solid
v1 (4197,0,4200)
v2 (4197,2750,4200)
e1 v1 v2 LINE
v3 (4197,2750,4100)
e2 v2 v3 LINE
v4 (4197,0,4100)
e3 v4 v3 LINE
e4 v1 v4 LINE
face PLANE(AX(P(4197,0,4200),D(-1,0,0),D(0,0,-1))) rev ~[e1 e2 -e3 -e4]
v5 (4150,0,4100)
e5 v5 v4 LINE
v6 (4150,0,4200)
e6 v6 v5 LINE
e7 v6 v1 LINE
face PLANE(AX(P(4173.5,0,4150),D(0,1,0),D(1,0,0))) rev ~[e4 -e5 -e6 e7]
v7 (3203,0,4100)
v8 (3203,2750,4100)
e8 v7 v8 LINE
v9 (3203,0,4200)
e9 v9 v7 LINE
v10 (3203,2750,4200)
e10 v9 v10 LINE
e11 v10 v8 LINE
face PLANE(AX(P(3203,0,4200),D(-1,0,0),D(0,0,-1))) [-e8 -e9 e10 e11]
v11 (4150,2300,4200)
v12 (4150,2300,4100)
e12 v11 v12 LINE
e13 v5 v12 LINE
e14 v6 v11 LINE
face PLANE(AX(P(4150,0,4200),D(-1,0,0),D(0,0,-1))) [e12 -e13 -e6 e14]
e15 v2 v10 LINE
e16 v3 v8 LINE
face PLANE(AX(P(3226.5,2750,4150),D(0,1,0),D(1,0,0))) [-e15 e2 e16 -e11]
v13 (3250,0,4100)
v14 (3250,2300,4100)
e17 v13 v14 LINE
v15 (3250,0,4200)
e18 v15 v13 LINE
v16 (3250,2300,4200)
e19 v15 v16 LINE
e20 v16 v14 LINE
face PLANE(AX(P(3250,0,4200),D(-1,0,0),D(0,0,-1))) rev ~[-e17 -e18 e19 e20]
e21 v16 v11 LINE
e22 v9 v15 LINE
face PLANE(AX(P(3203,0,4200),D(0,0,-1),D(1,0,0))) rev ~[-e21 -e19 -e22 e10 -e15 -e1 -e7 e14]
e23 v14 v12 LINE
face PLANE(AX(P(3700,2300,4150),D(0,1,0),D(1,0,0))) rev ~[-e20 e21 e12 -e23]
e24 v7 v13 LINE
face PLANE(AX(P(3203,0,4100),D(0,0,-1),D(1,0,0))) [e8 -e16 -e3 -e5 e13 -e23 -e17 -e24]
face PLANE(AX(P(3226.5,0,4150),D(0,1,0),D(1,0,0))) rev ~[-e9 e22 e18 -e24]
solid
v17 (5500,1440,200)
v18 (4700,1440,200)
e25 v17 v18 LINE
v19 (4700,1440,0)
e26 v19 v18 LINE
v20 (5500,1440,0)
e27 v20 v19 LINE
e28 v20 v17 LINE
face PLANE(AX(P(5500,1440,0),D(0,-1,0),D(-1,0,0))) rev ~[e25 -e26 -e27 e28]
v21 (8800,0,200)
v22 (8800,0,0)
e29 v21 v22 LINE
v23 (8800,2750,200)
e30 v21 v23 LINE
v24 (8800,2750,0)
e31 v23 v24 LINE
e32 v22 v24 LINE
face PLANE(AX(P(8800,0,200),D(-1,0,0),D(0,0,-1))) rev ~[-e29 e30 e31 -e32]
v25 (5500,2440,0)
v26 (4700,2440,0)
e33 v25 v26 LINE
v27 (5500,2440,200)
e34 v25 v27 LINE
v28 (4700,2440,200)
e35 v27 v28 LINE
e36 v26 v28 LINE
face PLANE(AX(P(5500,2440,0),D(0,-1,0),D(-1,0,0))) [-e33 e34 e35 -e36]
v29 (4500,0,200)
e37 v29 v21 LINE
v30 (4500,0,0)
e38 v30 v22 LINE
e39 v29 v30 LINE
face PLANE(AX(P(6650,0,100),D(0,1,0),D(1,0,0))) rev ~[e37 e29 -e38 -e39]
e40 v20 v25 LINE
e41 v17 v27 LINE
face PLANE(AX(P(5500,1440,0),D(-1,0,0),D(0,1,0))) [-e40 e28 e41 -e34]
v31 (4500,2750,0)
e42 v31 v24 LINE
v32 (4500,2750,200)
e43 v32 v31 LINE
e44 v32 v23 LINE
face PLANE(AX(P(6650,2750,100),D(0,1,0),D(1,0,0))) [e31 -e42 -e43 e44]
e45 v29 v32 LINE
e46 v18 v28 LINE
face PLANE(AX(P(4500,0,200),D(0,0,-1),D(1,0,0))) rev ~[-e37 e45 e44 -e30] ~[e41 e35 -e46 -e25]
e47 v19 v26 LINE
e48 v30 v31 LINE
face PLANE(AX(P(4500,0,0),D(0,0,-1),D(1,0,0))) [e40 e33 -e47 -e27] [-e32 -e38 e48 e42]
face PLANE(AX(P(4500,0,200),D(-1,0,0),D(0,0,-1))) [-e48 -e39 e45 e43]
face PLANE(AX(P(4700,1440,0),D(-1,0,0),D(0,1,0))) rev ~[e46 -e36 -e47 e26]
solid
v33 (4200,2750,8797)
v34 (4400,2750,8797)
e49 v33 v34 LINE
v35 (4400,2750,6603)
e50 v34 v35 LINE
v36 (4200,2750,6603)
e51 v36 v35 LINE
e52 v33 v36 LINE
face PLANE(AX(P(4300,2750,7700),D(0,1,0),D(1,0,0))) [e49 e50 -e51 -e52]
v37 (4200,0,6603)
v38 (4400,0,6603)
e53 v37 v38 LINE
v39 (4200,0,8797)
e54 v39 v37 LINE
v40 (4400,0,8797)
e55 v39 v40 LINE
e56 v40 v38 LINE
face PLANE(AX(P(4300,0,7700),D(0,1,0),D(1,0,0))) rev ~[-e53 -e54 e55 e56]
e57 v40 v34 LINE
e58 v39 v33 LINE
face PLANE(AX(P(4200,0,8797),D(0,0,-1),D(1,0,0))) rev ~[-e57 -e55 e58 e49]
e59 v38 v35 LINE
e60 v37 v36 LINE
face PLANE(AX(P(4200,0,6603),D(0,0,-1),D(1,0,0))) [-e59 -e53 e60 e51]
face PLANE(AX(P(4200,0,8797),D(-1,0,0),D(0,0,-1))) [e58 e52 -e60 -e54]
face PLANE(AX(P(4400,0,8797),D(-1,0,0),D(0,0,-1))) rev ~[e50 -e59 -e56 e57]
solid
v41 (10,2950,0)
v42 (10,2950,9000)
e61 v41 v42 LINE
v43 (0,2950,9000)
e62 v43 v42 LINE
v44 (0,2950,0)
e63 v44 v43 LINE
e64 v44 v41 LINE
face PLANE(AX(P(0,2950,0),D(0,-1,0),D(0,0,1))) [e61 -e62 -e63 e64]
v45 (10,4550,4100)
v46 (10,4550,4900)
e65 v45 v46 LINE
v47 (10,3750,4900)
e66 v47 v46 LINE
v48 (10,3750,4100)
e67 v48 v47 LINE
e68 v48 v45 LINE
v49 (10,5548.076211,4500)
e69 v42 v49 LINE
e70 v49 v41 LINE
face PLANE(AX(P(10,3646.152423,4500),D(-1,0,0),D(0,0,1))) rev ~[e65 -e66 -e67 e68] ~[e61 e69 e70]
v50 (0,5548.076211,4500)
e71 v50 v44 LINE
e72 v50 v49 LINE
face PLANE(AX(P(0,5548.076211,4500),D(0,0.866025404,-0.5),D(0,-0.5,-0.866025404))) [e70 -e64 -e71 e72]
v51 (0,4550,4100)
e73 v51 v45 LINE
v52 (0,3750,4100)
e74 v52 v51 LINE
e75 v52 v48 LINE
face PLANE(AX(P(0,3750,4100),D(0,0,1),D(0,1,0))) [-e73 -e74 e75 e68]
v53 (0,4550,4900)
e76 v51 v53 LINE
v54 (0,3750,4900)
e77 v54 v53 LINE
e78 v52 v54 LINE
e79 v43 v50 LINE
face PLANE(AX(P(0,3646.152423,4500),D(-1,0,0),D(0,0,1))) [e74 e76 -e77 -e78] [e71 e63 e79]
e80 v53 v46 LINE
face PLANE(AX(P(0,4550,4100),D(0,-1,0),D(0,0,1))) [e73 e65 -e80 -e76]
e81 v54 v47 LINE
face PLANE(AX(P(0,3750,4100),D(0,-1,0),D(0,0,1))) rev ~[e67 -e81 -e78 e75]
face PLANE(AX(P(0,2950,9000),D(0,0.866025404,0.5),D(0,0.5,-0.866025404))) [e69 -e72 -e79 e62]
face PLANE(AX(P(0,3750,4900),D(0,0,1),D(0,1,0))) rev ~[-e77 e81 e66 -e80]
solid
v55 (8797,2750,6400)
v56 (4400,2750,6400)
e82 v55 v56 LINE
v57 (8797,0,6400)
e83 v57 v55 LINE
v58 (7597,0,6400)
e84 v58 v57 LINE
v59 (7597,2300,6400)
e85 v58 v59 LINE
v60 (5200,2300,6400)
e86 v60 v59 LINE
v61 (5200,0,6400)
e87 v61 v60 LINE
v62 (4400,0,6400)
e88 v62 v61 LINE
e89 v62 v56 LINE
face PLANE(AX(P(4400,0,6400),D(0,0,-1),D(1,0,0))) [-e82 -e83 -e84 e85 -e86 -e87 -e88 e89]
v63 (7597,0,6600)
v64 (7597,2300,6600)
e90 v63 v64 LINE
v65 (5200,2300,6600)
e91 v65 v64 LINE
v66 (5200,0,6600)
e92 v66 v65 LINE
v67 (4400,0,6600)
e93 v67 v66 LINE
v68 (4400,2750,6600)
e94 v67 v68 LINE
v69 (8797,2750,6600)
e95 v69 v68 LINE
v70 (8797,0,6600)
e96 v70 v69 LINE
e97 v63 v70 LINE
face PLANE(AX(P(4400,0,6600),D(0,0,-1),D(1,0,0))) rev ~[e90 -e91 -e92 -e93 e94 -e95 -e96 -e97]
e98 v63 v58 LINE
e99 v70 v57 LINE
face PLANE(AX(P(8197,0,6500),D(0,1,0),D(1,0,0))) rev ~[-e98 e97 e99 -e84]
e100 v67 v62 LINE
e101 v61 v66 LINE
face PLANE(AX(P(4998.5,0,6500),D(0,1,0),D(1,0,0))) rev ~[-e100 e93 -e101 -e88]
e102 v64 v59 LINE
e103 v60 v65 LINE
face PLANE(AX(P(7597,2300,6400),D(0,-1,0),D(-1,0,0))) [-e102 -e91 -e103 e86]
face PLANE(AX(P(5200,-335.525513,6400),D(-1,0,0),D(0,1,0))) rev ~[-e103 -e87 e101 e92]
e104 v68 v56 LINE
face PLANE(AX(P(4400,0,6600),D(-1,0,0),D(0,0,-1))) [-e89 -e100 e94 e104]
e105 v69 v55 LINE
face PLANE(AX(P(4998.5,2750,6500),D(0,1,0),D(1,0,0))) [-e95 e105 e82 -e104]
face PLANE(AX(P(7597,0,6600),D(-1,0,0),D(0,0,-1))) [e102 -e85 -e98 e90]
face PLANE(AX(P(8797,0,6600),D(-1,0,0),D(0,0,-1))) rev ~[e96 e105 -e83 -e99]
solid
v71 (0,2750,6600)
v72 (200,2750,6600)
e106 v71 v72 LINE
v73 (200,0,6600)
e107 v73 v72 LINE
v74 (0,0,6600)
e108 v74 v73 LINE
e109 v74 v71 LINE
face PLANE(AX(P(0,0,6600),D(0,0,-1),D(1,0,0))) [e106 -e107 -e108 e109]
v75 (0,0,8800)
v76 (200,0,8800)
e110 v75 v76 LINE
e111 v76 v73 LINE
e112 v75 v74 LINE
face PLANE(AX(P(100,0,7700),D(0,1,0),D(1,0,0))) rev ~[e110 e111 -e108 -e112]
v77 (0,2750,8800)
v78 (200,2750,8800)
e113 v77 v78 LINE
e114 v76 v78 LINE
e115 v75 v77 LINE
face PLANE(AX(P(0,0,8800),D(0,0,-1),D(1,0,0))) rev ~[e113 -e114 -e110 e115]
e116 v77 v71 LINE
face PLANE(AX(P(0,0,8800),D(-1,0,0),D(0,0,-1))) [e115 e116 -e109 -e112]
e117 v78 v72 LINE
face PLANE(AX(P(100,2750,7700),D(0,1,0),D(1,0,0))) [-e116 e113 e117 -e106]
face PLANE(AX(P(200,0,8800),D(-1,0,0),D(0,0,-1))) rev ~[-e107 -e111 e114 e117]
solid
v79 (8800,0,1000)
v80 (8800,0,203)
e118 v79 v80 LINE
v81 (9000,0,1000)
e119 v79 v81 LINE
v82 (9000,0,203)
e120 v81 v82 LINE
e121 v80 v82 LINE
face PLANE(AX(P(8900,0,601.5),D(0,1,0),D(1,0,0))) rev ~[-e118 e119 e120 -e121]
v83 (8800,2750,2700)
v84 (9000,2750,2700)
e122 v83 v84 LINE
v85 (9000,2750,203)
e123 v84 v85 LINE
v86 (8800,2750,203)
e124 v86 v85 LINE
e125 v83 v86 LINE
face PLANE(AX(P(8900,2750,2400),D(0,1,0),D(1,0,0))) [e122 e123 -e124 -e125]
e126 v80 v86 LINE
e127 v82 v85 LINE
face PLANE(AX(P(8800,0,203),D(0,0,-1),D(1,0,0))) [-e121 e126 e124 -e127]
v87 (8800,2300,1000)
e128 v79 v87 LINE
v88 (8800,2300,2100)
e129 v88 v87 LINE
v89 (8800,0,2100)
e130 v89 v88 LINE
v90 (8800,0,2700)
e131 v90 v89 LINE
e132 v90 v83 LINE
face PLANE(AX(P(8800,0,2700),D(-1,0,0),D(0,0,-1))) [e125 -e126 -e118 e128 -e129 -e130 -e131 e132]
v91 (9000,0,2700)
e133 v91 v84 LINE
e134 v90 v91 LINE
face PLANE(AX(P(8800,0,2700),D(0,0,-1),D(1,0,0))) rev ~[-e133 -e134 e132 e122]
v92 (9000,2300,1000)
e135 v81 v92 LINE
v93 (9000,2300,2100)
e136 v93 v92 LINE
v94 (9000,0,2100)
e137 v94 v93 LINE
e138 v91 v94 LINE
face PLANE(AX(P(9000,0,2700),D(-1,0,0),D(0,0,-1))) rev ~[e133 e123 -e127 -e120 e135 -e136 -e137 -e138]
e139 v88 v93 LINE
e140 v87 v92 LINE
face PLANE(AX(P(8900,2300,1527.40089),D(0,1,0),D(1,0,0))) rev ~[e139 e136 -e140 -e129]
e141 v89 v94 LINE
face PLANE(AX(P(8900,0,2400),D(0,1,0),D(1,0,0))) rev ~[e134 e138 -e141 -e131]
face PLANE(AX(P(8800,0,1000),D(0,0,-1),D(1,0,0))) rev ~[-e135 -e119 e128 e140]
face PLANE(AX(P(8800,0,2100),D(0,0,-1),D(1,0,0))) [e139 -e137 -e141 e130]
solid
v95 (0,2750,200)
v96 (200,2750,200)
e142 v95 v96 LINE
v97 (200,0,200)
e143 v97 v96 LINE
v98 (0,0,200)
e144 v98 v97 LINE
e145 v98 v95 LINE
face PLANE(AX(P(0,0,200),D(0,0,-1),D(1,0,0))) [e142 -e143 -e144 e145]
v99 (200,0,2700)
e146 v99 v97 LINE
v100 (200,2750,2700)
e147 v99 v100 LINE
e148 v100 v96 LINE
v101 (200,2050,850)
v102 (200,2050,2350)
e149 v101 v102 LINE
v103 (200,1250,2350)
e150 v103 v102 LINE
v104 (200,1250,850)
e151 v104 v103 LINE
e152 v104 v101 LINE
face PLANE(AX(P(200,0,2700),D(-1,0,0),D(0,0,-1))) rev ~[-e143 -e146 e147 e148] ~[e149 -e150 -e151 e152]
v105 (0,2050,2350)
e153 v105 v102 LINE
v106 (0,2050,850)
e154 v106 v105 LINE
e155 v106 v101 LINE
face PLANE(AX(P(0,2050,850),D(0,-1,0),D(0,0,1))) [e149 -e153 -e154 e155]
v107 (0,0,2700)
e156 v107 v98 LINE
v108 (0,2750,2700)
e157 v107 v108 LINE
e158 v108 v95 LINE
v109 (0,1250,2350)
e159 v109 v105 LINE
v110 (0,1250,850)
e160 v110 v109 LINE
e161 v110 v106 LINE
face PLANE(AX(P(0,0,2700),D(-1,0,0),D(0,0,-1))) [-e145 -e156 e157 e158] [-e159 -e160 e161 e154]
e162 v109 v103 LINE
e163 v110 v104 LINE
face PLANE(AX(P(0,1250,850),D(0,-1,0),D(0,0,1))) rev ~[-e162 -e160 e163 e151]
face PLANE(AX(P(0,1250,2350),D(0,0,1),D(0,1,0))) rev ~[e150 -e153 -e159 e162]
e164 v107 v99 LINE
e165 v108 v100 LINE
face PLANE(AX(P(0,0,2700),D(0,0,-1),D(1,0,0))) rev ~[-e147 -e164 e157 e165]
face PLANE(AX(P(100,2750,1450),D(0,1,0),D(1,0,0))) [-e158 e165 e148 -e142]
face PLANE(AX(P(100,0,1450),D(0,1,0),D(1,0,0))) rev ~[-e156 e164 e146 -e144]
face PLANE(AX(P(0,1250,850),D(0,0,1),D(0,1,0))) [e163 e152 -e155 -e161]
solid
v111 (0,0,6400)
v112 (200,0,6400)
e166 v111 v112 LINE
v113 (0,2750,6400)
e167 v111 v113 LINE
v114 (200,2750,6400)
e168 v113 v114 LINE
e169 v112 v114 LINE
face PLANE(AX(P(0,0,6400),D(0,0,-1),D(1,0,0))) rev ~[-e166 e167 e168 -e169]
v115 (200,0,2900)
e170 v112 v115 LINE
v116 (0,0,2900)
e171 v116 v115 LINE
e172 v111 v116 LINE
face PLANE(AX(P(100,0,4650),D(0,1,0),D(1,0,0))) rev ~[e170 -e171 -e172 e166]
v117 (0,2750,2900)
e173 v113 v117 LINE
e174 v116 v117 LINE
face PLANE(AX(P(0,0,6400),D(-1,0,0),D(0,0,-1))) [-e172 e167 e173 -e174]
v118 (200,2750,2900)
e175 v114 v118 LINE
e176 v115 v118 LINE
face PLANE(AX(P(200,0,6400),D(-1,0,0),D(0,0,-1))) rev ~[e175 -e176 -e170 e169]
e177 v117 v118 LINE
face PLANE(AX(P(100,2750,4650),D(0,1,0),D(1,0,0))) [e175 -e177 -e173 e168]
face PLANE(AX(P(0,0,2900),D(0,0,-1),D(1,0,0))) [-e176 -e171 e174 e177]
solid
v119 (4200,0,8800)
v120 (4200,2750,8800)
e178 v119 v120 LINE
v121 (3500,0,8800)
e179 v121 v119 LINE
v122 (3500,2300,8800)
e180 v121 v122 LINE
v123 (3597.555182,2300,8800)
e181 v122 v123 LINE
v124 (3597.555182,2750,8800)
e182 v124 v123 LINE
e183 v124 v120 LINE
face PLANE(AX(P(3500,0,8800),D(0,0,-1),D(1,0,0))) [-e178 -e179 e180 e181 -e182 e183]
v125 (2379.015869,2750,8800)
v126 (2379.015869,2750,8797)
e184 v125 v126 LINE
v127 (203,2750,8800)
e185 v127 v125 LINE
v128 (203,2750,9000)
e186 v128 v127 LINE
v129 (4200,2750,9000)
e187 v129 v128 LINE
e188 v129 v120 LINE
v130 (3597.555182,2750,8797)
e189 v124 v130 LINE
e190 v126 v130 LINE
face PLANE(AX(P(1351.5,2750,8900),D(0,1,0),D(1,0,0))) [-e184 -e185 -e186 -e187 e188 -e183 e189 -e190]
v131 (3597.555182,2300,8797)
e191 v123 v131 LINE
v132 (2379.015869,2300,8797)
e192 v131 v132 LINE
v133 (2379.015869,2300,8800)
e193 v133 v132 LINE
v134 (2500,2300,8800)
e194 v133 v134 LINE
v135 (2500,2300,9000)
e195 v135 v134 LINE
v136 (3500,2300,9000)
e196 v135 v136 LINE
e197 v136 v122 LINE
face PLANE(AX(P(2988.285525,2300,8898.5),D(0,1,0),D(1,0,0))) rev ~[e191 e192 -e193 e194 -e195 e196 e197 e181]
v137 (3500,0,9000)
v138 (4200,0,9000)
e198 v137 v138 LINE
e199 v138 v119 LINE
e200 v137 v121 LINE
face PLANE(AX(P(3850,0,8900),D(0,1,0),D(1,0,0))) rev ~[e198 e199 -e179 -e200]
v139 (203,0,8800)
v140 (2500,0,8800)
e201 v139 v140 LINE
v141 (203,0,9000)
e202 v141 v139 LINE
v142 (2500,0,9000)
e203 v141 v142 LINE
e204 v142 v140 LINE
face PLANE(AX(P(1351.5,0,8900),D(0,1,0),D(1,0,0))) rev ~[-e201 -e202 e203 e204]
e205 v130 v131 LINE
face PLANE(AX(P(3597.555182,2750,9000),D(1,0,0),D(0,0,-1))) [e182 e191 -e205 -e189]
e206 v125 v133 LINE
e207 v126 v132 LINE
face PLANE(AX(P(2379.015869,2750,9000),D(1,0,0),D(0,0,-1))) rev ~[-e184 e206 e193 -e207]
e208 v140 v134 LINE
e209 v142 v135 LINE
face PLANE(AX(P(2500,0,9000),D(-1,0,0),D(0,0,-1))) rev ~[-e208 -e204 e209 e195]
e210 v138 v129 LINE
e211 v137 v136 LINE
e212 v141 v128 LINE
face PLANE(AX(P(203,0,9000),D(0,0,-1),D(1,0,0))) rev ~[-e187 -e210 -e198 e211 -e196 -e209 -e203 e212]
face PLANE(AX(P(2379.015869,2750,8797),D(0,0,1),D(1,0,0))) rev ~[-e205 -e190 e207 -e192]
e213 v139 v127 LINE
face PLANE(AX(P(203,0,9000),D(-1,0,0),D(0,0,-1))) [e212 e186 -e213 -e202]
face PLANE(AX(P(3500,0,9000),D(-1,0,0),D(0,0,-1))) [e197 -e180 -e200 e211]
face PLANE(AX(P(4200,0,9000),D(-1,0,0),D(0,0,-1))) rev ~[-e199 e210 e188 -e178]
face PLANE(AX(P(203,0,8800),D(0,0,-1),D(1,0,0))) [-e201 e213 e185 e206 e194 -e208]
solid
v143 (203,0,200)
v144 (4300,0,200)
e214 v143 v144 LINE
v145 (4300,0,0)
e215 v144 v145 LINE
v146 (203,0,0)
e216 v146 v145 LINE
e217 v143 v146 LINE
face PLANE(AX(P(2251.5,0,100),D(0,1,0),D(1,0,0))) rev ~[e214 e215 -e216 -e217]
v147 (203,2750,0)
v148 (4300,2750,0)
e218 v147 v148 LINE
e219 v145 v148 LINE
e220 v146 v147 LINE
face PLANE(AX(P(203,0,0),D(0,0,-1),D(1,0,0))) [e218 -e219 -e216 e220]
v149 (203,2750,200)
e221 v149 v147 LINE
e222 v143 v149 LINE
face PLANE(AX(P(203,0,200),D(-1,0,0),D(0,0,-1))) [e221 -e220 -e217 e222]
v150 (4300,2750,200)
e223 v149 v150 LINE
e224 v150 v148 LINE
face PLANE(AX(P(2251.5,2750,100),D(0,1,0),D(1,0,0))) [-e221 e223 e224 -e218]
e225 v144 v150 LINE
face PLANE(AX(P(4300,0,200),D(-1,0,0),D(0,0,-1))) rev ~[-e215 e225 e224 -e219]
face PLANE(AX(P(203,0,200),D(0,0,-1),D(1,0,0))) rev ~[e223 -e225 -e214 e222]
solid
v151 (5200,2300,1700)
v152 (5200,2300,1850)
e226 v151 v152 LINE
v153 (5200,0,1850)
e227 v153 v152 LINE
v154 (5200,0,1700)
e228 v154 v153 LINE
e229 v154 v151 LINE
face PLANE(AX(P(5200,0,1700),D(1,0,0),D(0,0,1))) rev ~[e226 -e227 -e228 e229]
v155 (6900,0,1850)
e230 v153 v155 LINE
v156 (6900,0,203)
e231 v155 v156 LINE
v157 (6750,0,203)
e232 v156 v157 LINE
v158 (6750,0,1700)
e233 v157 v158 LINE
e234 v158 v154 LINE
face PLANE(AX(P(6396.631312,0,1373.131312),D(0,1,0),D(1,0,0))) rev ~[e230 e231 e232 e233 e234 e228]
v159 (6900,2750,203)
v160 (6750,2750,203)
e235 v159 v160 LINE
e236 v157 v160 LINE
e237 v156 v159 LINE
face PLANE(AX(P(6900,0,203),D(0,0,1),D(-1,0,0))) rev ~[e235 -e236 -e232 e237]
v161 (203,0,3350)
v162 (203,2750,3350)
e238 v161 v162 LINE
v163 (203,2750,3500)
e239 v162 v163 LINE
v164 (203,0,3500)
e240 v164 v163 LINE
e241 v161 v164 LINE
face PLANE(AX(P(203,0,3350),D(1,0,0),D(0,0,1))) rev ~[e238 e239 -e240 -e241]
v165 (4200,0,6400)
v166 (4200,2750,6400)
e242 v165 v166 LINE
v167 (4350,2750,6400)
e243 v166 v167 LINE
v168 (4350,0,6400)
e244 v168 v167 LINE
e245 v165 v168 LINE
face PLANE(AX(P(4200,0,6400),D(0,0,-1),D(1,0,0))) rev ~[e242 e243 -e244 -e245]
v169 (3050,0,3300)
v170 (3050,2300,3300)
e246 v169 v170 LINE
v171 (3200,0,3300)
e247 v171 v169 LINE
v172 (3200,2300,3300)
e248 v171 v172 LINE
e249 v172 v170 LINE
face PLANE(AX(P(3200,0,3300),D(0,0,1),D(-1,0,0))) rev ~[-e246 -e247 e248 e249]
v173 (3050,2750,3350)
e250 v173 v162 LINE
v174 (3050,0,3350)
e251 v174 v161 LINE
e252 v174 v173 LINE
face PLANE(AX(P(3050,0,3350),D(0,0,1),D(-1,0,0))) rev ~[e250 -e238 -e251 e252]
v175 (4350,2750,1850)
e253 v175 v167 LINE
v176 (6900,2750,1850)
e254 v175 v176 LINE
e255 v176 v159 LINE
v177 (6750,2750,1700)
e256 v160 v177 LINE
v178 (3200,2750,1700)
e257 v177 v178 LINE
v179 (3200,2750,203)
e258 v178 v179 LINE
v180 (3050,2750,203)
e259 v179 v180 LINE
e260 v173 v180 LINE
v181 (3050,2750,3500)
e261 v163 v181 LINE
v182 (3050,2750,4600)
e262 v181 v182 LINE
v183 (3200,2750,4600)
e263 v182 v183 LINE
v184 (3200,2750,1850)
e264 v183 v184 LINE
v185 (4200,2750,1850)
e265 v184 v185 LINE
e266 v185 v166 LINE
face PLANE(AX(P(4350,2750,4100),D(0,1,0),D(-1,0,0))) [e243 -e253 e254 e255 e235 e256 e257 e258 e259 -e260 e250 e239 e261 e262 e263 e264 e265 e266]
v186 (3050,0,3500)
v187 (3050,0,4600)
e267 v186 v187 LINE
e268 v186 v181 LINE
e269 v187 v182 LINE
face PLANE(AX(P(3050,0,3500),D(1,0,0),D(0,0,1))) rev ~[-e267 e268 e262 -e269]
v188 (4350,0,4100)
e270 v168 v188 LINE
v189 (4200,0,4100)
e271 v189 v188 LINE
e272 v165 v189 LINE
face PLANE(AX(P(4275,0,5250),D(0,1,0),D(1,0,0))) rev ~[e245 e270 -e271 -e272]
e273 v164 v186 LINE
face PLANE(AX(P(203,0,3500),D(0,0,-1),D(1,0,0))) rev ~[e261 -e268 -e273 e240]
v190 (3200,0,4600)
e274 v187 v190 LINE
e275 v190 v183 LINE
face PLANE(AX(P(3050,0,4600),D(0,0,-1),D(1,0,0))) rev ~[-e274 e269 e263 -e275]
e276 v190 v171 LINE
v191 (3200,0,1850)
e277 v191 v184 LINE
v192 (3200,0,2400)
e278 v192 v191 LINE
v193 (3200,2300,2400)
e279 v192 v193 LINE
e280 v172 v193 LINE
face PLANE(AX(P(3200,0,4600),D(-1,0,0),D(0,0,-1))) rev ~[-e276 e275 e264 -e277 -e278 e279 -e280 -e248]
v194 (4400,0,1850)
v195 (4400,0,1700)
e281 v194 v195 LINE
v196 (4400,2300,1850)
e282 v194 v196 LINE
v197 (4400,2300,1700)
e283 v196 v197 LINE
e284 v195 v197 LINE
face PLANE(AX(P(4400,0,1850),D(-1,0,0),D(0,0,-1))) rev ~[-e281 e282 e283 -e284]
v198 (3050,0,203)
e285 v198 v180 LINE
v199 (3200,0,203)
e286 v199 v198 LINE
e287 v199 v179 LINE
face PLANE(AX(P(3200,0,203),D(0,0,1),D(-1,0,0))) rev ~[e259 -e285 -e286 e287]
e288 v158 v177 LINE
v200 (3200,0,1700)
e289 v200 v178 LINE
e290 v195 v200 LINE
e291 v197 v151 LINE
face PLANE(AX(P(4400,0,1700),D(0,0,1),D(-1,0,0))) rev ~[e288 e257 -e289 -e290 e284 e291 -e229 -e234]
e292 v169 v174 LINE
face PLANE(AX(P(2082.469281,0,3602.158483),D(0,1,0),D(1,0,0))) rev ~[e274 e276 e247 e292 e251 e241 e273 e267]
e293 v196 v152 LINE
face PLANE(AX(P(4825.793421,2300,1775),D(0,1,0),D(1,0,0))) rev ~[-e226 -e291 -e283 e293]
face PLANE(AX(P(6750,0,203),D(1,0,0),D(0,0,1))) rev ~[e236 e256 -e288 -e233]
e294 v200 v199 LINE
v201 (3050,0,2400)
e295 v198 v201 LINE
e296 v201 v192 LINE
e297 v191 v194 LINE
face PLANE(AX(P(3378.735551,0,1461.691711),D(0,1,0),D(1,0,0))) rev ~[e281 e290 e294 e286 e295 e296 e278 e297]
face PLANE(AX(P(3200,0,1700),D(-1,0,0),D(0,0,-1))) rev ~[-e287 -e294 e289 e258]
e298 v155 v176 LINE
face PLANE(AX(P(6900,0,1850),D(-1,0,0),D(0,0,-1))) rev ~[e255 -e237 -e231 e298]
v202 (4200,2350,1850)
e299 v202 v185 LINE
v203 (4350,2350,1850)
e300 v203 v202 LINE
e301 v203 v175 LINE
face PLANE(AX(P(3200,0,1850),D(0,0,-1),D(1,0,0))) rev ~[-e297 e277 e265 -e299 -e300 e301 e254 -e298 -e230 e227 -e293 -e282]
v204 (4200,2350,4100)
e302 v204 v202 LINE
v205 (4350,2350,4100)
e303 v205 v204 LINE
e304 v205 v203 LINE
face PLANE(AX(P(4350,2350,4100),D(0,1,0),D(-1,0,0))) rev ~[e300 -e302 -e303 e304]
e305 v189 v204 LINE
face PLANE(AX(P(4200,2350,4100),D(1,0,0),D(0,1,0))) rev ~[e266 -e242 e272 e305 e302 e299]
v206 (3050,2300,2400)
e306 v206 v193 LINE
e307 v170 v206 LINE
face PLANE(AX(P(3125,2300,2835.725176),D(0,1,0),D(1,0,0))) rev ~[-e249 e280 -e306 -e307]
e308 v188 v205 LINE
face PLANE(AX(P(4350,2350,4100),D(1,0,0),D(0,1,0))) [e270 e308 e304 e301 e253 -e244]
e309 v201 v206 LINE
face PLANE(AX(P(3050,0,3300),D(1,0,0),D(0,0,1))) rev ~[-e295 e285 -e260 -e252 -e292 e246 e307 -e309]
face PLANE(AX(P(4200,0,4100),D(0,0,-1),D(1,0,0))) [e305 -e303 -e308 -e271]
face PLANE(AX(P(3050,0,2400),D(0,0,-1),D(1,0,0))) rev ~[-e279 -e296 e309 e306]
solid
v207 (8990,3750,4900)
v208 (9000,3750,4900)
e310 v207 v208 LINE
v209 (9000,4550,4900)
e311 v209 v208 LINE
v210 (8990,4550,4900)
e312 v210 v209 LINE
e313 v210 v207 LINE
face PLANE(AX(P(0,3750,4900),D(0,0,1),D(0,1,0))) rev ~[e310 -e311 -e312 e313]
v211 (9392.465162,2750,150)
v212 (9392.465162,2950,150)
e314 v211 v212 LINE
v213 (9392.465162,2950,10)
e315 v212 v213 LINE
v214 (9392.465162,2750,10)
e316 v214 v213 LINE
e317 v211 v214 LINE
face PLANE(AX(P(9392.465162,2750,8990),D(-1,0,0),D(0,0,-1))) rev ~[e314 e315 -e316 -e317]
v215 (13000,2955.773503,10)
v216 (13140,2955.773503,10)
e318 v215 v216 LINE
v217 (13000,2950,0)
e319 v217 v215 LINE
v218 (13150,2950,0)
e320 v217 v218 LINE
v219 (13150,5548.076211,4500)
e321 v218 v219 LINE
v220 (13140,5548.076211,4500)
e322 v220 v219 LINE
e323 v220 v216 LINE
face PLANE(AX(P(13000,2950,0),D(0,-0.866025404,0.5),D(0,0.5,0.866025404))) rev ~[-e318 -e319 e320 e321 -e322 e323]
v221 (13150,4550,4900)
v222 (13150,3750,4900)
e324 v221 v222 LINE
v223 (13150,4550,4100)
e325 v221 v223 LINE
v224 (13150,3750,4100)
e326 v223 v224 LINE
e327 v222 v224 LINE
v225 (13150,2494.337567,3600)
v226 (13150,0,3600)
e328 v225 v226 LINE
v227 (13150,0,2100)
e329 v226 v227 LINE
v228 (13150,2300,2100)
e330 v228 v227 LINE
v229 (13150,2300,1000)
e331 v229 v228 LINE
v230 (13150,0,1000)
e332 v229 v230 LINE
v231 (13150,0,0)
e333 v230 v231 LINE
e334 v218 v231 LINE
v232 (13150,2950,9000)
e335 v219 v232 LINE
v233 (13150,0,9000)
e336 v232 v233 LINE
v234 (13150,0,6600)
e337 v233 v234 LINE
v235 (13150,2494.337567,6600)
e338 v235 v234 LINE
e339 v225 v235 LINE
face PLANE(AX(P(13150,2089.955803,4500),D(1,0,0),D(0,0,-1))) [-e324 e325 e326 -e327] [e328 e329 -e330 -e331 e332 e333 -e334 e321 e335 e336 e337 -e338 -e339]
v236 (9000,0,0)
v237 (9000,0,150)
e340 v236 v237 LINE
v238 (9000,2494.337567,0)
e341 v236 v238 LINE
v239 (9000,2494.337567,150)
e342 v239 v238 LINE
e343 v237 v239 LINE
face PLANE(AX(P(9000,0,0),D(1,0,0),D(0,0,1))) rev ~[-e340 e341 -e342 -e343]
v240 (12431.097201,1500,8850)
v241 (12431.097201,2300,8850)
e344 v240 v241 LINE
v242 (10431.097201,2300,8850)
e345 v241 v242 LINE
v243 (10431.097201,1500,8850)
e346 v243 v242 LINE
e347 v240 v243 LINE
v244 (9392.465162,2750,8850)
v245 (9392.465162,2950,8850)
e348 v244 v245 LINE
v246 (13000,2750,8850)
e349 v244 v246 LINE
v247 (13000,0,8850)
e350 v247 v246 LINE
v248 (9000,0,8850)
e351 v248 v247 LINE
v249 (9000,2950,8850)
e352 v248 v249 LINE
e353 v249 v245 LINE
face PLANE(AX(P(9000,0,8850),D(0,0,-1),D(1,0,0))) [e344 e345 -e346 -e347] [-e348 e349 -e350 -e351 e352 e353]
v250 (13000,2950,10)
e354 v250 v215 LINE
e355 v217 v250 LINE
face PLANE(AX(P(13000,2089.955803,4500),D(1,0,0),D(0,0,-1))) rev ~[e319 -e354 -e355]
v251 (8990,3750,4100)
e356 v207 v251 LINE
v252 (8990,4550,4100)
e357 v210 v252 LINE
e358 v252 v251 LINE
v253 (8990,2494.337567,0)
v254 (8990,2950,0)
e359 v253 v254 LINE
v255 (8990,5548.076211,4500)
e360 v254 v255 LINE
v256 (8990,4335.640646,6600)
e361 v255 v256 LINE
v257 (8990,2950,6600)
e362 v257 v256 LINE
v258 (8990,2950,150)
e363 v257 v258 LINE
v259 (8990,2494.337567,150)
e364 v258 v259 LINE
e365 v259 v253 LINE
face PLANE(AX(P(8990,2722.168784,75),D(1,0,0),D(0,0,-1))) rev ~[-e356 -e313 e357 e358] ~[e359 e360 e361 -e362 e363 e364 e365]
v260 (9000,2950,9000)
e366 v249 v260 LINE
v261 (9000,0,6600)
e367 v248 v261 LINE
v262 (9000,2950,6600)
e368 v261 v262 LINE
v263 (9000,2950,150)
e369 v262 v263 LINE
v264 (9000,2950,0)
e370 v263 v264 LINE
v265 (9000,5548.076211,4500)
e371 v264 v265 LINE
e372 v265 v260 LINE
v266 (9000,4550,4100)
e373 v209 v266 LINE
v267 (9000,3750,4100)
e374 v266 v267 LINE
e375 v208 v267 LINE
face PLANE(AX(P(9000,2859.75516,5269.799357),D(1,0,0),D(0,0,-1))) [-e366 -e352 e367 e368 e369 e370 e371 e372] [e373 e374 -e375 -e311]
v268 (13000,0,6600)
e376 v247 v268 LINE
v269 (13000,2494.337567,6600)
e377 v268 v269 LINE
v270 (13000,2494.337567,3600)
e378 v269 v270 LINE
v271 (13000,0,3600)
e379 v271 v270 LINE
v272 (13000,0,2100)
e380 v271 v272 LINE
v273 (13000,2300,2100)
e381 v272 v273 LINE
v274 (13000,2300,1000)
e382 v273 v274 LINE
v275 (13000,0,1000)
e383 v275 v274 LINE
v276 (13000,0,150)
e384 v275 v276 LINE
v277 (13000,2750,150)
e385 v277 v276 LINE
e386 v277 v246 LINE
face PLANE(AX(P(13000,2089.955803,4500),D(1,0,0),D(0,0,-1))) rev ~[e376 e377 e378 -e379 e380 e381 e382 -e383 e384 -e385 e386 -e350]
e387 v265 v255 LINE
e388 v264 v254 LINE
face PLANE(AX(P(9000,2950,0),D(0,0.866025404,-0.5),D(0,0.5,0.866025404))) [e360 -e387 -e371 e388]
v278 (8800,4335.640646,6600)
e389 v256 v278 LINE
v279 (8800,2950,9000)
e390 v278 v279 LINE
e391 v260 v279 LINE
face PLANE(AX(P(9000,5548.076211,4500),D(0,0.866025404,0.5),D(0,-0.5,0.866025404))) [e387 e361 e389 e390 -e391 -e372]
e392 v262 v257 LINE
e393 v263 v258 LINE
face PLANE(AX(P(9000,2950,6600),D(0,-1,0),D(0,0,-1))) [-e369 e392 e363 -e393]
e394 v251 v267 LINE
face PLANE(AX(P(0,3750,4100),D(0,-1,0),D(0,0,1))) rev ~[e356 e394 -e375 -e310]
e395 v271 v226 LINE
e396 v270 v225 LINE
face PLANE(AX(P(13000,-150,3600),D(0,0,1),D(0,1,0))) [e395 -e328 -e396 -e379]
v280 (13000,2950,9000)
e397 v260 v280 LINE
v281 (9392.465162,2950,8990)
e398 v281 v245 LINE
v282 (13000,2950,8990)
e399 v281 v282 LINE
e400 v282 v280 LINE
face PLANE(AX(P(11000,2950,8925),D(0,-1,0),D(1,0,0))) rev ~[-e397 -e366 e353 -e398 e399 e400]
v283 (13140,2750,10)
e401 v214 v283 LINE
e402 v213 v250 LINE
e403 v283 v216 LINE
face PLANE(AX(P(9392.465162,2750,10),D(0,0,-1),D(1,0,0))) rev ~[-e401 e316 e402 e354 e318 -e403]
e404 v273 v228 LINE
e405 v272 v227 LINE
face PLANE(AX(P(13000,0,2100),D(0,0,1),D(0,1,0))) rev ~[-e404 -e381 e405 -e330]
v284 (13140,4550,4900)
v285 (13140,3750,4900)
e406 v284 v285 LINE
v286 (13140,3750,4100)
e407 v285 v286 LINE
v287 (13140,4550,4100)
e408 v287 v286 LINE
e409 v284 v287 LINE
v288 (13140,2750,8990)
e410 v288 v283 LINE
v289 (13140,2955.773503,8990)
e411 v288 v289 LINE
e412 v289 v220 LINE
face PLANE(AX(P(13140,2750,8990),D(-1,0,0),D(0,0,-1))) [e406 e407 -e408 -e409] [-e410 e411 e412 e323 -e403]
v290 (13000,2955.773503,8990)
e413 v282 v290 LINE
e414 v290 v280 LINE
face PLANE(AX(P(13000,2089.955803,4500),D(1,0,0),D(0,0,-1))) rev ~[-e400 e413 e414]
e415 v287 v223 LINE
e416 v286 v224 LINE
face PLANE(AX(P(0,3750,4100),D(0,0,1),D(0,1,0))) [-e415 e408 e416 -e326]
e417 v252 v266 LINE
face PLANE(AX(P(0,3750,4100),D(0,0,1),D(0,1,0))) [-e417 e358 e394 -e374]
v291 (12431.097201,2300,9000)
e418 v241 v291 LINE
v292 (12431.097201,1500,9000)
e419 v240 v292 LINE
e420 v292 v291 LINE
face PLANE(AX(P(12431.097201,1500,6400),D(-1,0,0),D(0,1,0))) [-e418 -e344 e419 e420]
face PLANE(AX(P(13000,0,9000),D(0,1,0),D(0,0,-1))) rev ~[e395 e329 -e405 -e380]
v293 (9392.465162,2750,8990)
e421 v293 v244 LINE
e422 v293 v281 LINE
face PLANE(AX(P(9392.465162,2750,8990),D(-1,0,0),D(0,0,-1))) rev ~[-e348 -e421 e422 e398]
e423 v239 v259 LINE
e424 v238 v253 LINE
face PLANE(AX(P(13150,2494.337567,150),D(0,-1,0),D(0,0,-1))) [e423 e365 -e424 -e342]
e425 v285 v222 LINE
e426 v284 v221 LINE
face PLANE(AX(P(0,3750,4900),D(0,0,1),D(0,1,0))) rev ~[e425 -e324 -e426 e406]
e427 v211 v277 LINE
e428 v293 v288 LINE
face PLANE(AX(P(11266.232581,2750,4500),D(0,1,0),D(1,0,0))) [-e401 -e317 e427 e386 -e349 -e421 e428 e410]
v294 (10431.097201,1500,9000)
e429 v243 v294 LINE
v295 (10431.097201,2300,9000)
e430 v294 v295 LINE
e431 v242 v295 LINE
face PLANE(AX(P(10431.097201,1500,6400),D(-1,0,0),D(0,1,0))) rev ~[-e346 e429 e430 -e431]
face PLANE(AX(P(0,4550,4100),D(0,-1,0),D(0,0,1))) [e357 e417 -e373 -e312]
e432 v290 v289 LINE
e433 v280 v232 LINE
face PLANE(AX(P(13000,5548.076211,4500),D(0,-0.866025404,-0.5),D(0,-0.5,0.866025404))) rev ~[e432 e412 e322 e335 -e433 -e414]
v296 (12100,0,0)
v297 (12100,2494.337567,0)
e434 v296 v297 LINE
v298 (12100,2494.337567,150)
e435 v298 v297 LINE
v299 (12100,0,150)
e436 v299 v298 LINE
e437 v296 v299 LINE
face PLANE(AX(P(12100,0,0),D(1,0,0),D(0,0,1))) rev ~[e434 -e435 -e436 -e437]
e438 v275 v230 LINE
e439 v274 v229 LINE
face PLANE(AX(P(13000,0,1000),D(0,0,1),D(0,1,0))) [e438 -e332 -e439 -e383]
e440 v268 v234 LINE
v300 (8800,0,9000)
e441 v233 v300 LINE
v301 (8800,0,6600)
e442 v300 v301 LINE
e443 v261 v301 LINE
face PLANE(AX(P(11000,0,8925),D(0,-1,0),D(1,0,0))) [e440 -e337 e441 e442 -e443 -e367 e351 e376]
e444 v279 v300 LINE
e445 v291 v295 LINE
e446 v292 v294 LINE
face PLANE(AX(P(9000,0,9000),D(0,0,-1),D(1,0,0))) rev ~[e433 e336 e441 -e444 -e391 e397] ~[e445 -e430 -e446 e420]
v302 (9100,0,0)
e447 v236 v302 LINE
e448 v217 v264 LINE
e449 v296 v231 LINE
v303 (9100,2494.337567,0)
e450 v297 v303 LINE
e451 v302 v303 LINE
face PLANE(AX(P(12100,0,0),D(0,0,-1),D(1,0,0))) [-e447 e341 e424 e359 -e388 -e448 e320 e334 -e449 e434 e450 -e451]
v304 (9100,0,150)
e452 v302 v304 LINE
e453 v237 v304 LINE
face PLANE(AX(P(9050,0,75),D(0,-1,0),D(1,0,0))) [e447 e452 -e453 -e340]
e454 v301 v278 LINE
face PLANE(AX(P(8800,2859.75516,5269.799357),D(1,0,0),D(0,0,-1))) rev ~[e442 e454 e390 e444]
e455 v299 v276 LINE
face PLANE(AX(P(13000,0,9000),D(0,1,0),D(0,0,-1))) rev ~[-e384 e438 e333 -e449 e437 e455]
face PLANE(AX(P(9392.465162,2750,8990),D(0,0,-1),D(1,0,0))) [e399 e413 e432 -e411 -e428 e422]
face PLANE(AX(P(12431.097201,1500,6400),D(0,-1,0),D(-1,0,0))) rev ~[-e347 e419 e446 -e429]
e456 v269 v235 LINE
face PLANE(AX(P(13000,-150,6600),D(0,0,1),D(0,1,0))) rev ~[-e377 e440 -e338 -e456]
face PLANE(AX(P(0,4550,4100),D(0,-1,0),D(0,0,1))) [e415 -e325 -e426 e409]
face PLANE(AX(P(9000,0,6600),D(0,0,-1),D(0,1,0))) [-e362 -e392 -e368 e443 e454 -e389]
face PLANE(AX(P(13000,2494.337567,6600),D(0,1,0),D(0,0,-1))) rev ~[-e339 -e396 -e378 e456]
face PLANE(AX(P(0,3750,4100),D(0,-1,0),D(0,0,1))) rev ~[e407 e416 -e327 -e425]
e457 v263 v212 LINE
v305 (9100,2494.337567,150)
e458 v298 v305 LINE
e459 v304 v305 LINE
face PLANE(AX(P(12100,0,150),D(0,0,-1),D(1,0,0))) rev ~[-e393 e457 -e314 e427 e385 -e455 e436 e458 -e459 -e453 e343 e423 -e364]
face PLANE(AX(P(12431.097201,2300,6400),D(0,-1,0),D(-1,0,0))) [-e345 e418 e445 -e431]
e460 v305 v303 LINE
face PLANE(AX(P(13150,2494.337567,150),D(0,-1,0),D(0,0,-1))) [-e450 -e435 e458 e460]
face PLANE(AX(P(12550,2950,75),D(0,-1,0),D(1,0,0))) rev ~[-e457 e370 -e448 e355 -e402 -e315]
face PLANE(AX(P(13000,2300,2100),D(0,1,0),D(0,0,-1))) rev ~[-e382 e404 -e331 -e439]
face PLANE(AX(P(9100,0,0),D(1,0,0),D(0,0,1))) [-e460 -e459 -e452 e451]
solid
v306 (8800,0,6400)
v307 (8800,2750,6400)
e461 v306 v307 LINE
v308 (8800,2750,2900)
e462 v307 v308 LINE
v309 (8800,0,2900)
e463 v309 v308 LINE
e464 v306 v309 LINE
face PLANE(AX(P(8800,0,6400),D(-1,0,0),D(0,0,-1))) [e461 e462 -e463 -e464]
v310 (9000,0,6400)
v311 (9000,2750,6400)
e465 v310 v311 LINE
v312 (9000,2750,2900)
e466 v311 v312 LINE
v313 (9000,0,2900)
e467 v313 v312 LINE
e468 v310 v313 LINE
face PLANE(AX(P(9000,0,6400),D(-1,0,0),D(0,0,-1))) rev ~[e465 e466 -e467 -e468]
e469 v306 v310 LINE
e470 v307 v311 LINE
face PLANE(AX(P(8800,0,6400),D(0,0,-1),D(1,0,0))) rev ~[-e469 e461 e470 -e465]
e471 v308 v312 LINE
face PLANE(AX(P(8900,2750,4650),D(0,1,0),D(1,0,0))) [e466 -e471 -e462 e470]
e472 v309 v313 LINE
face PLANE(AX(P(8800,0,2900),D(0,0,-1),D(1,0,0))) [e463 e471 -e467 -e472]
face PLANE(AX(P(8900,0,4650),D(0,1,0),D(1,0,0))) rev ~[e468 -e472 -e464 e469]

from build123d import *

# Parameters (mm, degrees)
SKETCH_1_W          = 200
SKETCH_1_H          = 797
EXTRUDE_3_DEPTH     = 2750
SKETCH_1_W_2        = 4097
SKETCH_1_H_2        = 200
EXTRUDE_3_2_DEPTH   = 2750
SKETCH_1_H_3        = 2500
EXTRUDE_3_3_DEPTH   = 2750
SKETCH_1_W_3        = 2297
EXTRUDE_3_4_DEPTH   = 2750
SKETCH_1_H_4        = 2194
EXTRUDE_3_5_DEPTH   = 2750
SKETCH_1_W_4        = 1200
EXTRUDE_3_6_DEPTH   = 2750
SKETCH_1_W_5        = 700
EXTRUDE_3_7_DEPTH   = 2750
SKETCH_1_W_6        = 1197
EXTRUDE_3_8_DEPTH   = 2750
SKETCH_1_H_5        = 600
EXTRUDE_3_9_DEPTH   = 2750
SKETCH_1_W_7        = 150
SKETCH_1_H_6        = 2300
EXTRUDE_3_10_DEPTH  = 2750
SKETCH_1_H_7        = 2200
EXTRUDE_3_11_DEPTH  = 2750
SKETCH_1_H_8        = 3500
EXTRUDE_3_12_DEPTH  = 2750
EXTRUDE_3_13_DEPTH  = 2750
SKETCH_1_W_8        = 4300
EXTRUDE_3_14_DEPTH  = 2750
EXTRUDE_3_15_DEPTH  = 2750
EXTRUDE_3_16_DEPTH  = 2750
SKETCH_1_W_9        = 47
SKETCH_1_H_9        = 100
EXTRUDE_3_17_DEPTH  = 2750
EXTRUDE_3_18_DEPTH  = 2750
EXTRUDE_3_19_DEPTH  = 2750
SKETCH_2_W          = 1500
SKETCH_2_H          = 800
CUT_EXTRUDE_2_DEPTH = 250
SKETCH_3_W          = 800
SKETCH_3_H          = 1000
CUT_EXTRUDE_3_DEPTH = 593
SKETCH_4_W          = 947
SKETCH_4_H          = 100
SKETCH_4_W_2        = 150
SKETCH_4_H_2        = 978.549648511
SKETCH_4_W_3        = 1152.585456484
SKETCH_4_H_3        = 150
SKETCH_4_W_4        = 2267.433140047
SKETCH_4_H_4        = 200
SKETCH_4_W_5        = 200
SKETCH_4_H_5        = 1253.150135291
SKETCH_4_W_6        = 1218.539312582
SKETCH_4_H_6        = 203
EXTRUDE_4_DEPTH     = 450
EXTRUDE_5_DEPTH     = 150
SKETCH_6_W          = 1100
SKETCH_6_H          = 2300
SKETCH_6_W_2        = 3000
SKETCH_6_H_2        = 2644.337567297
CUT_EXTRUDE_5_DEPTH = 670
SKETCH_8_W          = 800
SKETCH_8_H          = 800
EXTRUDE_8_DEPTH     = 10
EXTRUDE_9_DEPTH     = 200
SKETCH_10_W         = 4000
SKETCH_10_H         = 150
SKETCH_10_W_2       = 900
SKETCH_10_W_3       = 100
EXTRUDE_10_DEPTH    = 2950
SKETCH_11_W         = 2397
SKETCH_11_H         = 2635.525513421
SKETCH_11_W_2       = 1000
SKETCH_11_H_2       = 2423.148146905
SKETCH_11_W_3       = 2000
SKETCH_11_H_3       = 800
CUT_EXTRUDE_6_DEPTH = 5123
SKETCH_8_2_W        = 800
SKETCH_8_2_H        = 800
CUT_EXTRUDE_7_DEPTH = 16606
SKETCH_16_W         = 150
SKETCH_16_H         = 455.662432703
EXTRUDE_16_DEPTH    = 4160
SKETCH_17_W         = 150
SKETCH_17_H         = 400
EXTRUDE_17_DEPTH    = 2250
SKETCH_18_W         = 345.470179312
SKETCH_18_H         = 6646.060485842
SKETCH_18_W_2       = 3747.534838004
SKETCH_18_H_2       = 8980
CUT_EXTRUDE_8_DEPTH = 5414


with BuildPart() as part:
    # Эскиз1 → Бобышка-Вытянуть3 (new body)
    with BuildSketch(Plane(origin=(0, 0, 0), x_dir=(1, 0, 0), z_dir=(0, 1, 0))):
        with Locations((8900, -601.5)):
            Rectangle(SKETCH_1_W, SKETCH_1_H)
    extrude(amount=EXTRUDE_3_DEPTH)



with BuildPart() as body_2:
    # Эскиз1 → Extrude 3 2 (new body)
    with BuildSketch(Plane(origin=(0, 0, 0), x_dir=(1, 0, 0), z_dir=(0, 1, 0))):
        with Locations((2251.5, -100)):
            Rectangle(SKETCH_1_W_2, SKETCH_1_H_2)
    extrude(amount=EXTRUDE_3_2_DEPTH)


with BuildPart() as body_3:
    # Эскиз1 → Extrude 3 3 (new body)
    with BuildSketch(Plane(origin=(0, 0, 0), x_dir=(1, 0, 0), z_dir=(0, 1, 0))):
        with Locations((100, -1450)):
            Rectangle(SKETCH_1_W, SKETCH_1_H_3)
    extrude(amount=EXTRUDE_3_3_DEPTH)

    # Эскиз2 → Вырез-Вытянуть2 (cut)
    with BuildSketch(Plane.ZY):
        with Locations((1600, 1650)):
            Rectangle(SKETCH_2_W, SKETCH_2_H)
    extrude(amount=-CUT_EXTRUDE_2_DEPTH, mode=Mode.SUBTRACT)


with BuildPart() as body_4:
    # Эскиз1 → Extrude 3 4 (new body)
    with BuildSketch(Plane(origin=(0, 0, 0), x_dir=(1, 0, 0), z_dir=(0, 1, 0))):
        with Locations((1351.5, -8900)):
            Rectangle(SKETCH_1_W_3, SKETCH_1_H_2)
    extrude(amount=EXTRUDE_3_4_DEPTH)


with BuildPart() as body_5:
    # Эскиз1 → Extrude 3 5 (new body)
    with BuildSketch(Plane(origin=(0, 0, 0), x_dir=(1, 0, 0), z_dir=(0, 1, 0))):
        with Locations((4300, -7700)):
            Rectangle(SKETCH_1_W, SKETCH_1_H_4)
    extrude(amount=EXTRUDE_3_5_DEPTH)


with BuildPart() as body_6:
    # Эскиз1 → Extrude 3 6 (new body)
    with BuildSketch(Plane(origin=(0, 0, 0), x_dir=(1, 0, 0), z_dir=(0, 1, 0))):
        with Locations((8197, -6500)):
            Rectangle(SKETCH_1_W_4, SKETCH_1_H_2)
    extrude(amount=EXTRUDE_3_6_DEPTH)


with BuildPart() as body_7:
    # Эскиз1 → Extrude 3 7 (new body)
    with BuildSketch(Plane(origin=(0, 0, 0), x_dir=(1, 0, 0), z_dir=(0, 1, 0))):
        with Locations((3850, -8900)):
            Rectangle(SKETCH_1_W_5, SKETCH_1_H_2)
    extrude(amount=EXTRUDE_3_7_DEPTH)


with BuildPart() as body_8:
    # Эскиз1 → Extrude 3 8 (new body)
    with BuildSketch(Plane(origin=(0, 0, 0), x_dir=(1, 0, 0), z_dir=(0, 1, 0))):
        with Locations((4998.5, -6500)):
            Rectangle(SKETCH_1_W_6, SKETCH_1_H_2)
    extrude(amount=EXTRUDE_3_8_DEPTH)


with BuildPart() as body_9:
    # Эскиз1 → Extrude 3 9 (new body)
    with BuildSketch(Plane(origin=(0, 0, 0), x_dir=(1, 0, 0), z_dir=(0, 1, 0))):
        with Locations((8900, -2400)):
            Rectangle(SKETCH_1_W, SKETCH_1_H_5)
    extrude(amount=EXTRUDE_3_9_DEPTH)


with BuildPart() as body_10:
    # Эскиз1 → Extrude 3 10 (new body)
    with BuildSketch(Plane(origin=(0, 0, 0), x_dir=(1, 0, 0), z_dir=(0, 1, 0))):
        with Locations((4275, -5250)):
            Rectangle(SKETCH_1_W_7, SKETCH_1_H_6)
    extrude(amount=EXTRUDE_3_10_DEPTH)


with BuildPart() as body_11:
    # Эскиз1 → Extrude 3 11 (new body)
    with BuildSketch(Plane(origin=(0, 0, 0), x_dir=(1, 0, 0), z_dir=(0, 1, 0))):
        with Locations((100, -7700)):
            Rectangle(SKETCH_1_W, SKETCH_1_H_7)
    extrude(amount=EXTRUDE_3_11_DEPTH)


with BuildPart() as body_12:
    # Эскиз1 → Extrude 3 12 (new body)
    with BuildSketch(Plane(origin=(0, 0, 0), x_dir=(1, 0, 0), z_dir=(0, 1, 0))):
        with Locations((8900, -4650)):
            Rectangle(SKETCH_1_W, SKETCH_1_H_8)
    extrude(amount=EXTRUDE_3_12_DEPTH)


with BuildPart() as body_13:
    # Эскиз1 → Extrude 3 13 (new body)
    with BuildSketch(Plane(origin=(0, 0, 0), x_dir=(1, 0, 0), z_dir=(0, 1, 0))):
        with Locations((100, -4650)):
            Rectangle(SKETCH_1_W, SKETCH_1_H_8)
    extrude(amount=EXTRUDE_3_13_DEPTH)


with BuildPart() as body_14:
    # Эскиз1 → Extrude 3 14 (new body)
    with BuildSketch(Plane(origin=(0, 0, 0), x_dir=(1, 0, 0), z_dir=(0, 1, 0))):
        with Locations((6650, -100)):
            Rectangle(SKETCH_1_W_8, SKETCH_1_H_2)
    extrude(amount=EXTRUDE_3_14_DEPTH)

    # Эскиз3 → Вырез-Вытянуть3 (cut)
    with BuildSketch(Plane(origin=(0, 0, 0), x_dir=(-1, 0, 0), z_dir=(0, 0, -1))):
        with Locations((-5100, 1940)):
            Rectangle(SKETCH_3_W, SKETCH_3_H)
    extrude(amount=-CUT_EXTRUDE_3_DEPTH, mode=Mode.SUBTRACT)


with BuildPart() as body_15:
    # Эскиз1 → Extrude 3 15 (new body)
    with BuildSketch(Plane(origin=(0, 0, 0), x_dir=(1, 0, 0), z_dir=(0, 1, 0))):
        Polygon((3200, -203), (3050, -203), (3050, -2400), (3200, -2400), (3200, -1850), (4400, -1850), (4400, -1700), (3200, -1700), align=None)
    extrude(amount=EXTRUDE_3_15_DEPTH)


with BuildPart() as body_16:
    # Эскиз1 → Extrude 3 16 (new body)
    with BuildSketch(Plane(origin=(0, 0, 0), x_dir=(1, 0, 0), z_dir=(0, 1, 0))):
        Polygon((3200, -3300), (3050, -3300), (3050, -3350), (203, -3350), (203, -3500), (3050, -3500), (3050, -4600), (3200, -4600), align=None)
    extrude(amount=EXTRUDE_3_16_DEPTH)


with BuildPart() as body_17:
    # Эскиз1 → Extrude 3 17 (new body)
    with BuildSketch(Plane(origin=(0, 0, 0), x_dir=(1, 0, 0), z_dir=(0, 1, 0))):
        with Locations((4173.5, -4150)):
            Rectangle(SKETCH_1_W_9, SKETCH_1_H_9)
    extrude(amount=EXTRUDE_3_17_DEPTH)


with BuildPart() as body_18:
    # Эскиз1 → Extrude 3 18 (new body)
    with BuildSketch(Plane(origin=(0, 0, 0), x_dir=(1, 0, 0), z_dir=(0, 1, 0))):
        Polygon((6750, -1700), (5200, -1700), (5200, -1850), (6900, -1850), (6900, -203), (6750, -203), align=None)
    extrude(amount=EXTRUDE_3_18_DEPTH)


with BuildPart() as body_19:
    # Эскиз1 → Extrude 3 19 (new body)
    with BuildSketch(Plane(origin=(0, 0, 0), x_dir=(1, 0, 0), z_dir=(0, 1, 0))):
        with Locations((3226.5, -4150)):
            Rectangle(SKETCH_1_W_9, SKETCH_1_H_9)
    extrude(amount=EXTRUDE_3_19_DEPTH)


with BuildPart() as part_1:
    add(part.part)

    add(body_4.part)  # Бобышка-Вытянуть4 merges body 4

    add(body_6.part)  # Бобышка-Вытянуть4 merges body 6

    add(body_7.part)  # Бобышка-Вытянуть4 merges body 7

    add(body_8.part)  # Бобышка-Вытянуть4 merges body 8

    add(body_9.part)  # Бобышка-Вытянуть4 merges body 9

    add(body_15.part)  # Бобышка-Вытянуть4 merges body 15

    add(body_16.part)  # Бобышка-Вытянуть4 merges body 16

    add(body_17.part)  # Бобышка-Вытянуть4 merges body 17

    add(body_18.part)  # Бобышка-Вытянуть4 merges body 18

    add(body_19.part)  # Бобышка-Вытянуть4 merges body 19
    # Эскиз4 → Бобышка-Вытянуть4 (add)
    with BuildSketch(Plane(origin=(0, 2750, 0), x_dir=(1, 0, 0), z_dir=(0, 1, 0))):
        with Locations((3700, -4150)):
            Rectangle(SKETCH_4_W, SKETCH_4_H)
        with Locations((3125, -2835.725175745)):
            Rectangle(SKETCH_4_W_2, SKETCH_4_H_2)
        with Locations((4825.793421021, -1775)):
            Rectangle(SKETCH_4_W_3, SKETCH_4_H_3)
        with Locations((6556.719626978, -6500)):
            Rectangle(SKETCH_4_W_4, SKETCH_4_H_4)
        with Locations((8900, -1527.400889881)):
            Rectangle(SKETCH_4_W_5, SKETCH_4_H_5)
        with Locations((2988.285525283, -8898.5)):
            Rectangle(SKETCH_4_W_6, SKETCH_4_H_6)
    extrude(amount=-EXTRUDE_4_DEPTH)


with BuildPart() as body_10_2:
    # Эскиз5 → Бобышка-Вытянуть5 (new body)
    with BuildSketch(Plane(origin=(13000, 0, 0), x_dir=(0, 0, -1), z_dir=(1, 0, 0))):
        Polygon((-4500, 5548.076211353), (-9000, 2950), (-9000, 0), (0, 0), (0, 2950), align=None)
    extrude(amount=EXTRUDE_5_DEPTH)

    # Эскиз6 → Вырез-Вытянуть5 (cut)
    with BuildSketch(Plane(origin=(13000, 0, 0), x_dir=(0, 0, -1), z_dir=(1, 0, 0))):
        with Locations((-1550, 1150)):
            Rectangle(SKETCH_6_W, SKETCH_6_H)
        with Locations((-5100, 1172.168783649)):
            Rectangle(SKETCH_6_W_2, SKETCH_6_H_2)
    extrude(amount=CUT_EXTRUDE_5_DEPTH, mode=Mode.SUBTRACT)



with BuildPart() as body_11_2:
    # Эскиз8 → Бобышка-Вытянуть8 (new body)
    with BuildSketch(Plane.ZY):
        Polygon((4500, 5548.076211353), (0, 2950), (9000, 2950), align=None)
        with Locations((4500, 4150)):
            Rectangle(SKETCH_8_W, SKETCH_8_H, mode=Mode.SUBTRACT)
    extrude(amount=-EXTRUDE_8_DEPTH)


with BuildPart() as body_12_2:
    # Эскиз9 → Бобышка-Вытянуть9 (new body)
    with BuildSketch(Plane(origin=(9000, 0, 0), x_dir=(0, 0, -1), z_dir=(1, 0, 0))):
        Polygon((-6600, 0), (-6600, 2950), (0, 2950), (-4500, 5548.076211353), (-9000, 2950), (-9000, 0), align=None)
    extrude(amount=-EXTRUDE_9_DEPTH)


with BuildPart() as body_10_2_1:
    add(body_10_2.part)

    add(body_12_2.part)  # Бобышка-Вытянуть10 merges body 12 2
    # Эскиз10 → Бобышка-Вытянуть10 (add)
    with BuildSketch(Plane.XZ):
        with Locations((11000, 8925)):
            Rectangle(SKETCH_10_W, SKETCH_10_H)
        with Locations((12550, 75)):
            Rectangle(SKETCH_10_W_2, SKETCH_10_H)
        with Locations((9050, 75)):
            Rectangle(SKETCH_10_W_3, SKETCH_10_H)
    extrude(amount=-EXTRUDE_10_DEPTH)


with BuildPart() as cut_extrude_6_tool:
    # Эскиз11 → Вырез-Вытянуть6 (new body)
    with BuildSketch(Plane(origin=(0, 0, 6400), x_dir=(-1, 0, 0), z_dir=(0, 0, -1))):
        with Locations((-6398.5, 982.237243289)):
            Rectangle(SKETCH_11_W, SKETCH_11_H)
        with Locations((-3000, 1088.425926548)):
            Rectangle(SKETCH_11_W_2, SKETCH_11_H_2)
        with Locations((-11431.097201215, 1900)):
            Rectangle(SKETCH_11_W_3, SKETCH_11_H_3)
    extrude(amount=-CUT_EXTRUDE_6_DEPTH)


with BuildPart() as part_2:
    add(part_1.part)

    # Вырез-Вытянуть6: cut by cut_extrude_6_tool
    add(cut_extrude_6_tool.part, mode=Mode.SUBTRACT)


    add(body_10.part)  # Бобышка-Вытянуть17 merges body 10
    # Эскиз17 → Бобышка-Вытянуть17 (add)
    with BuildSketch(Plane(origin=(0, 0, 4100), x_dir=(-1, 0, 0), z_dir=(0, 0, -1))):
        with Locations((-4275, 2550)):
            Rectangle(SKETCH_17_W, SKETCH_17_H)
    extrude(amount=EXTRUDE_17_DEPTH)


with BuildPart() as body_10_2_2:
    add(body_10_2_1.part)

    # Вырез-Вытянуть6: cut by cut_extrude_6_tool
    add(cut_extrude_6_tool.part, mode=Mode.SUBTRACT)

    # Эскиз8<2> → Вырез-Вытянуть7 (cut)
    with BuildSketch(Plane.ZY):
        with Locations((4500, 4150)):
            Rectangle(SKETCH_8_2_W, SKETCH_8_2_H)
    extrude(amount=-CUT_EXTRUDE_7_DEPTH, mode=Mode.SUBTRACT)

    # Эскиз16 → Бобышка-Вытянуть16 (add)
    with BuildSketch(Plane(origin=(13150, 0, 0), x_dir=(0, 0, -1), z_dir=(1, 0, 0))):
        with Locations((-75, 2722.168783648)):
            Rectangle(SKETCH_16_W, SKETCH_16_H)
    extrude(amount=-EXTRUDE_16_DEPTH)

    # Эскиз18 → Вырез-Вытянуть8 (cut)
    with BuildSketch(Plane(origin=(0, 2750, 0), x_dir=(1, 0, 0), z_dir=(0, 1, 0))):
        with Locations((8817.264910344, -3276.969757079)):
            Rectangle(SKETCH_18_W, SKETCH_18_H)
        with Locations((11266.232580998, -4500)):
            Rectangle(SKETCH_18_W_2, SKETCH_18_H_2)
    extrude(amount=CUT_EXTRUDE_8_DEPTH, mode=Mode.SUBTRACT)


solid = Compound([body_2.part, body_3.part, body_5.part, body_11.part, body_12.part, body_13.part, body_14.part, body_11_2.part, part_2.part, body_10_2_2.part])
